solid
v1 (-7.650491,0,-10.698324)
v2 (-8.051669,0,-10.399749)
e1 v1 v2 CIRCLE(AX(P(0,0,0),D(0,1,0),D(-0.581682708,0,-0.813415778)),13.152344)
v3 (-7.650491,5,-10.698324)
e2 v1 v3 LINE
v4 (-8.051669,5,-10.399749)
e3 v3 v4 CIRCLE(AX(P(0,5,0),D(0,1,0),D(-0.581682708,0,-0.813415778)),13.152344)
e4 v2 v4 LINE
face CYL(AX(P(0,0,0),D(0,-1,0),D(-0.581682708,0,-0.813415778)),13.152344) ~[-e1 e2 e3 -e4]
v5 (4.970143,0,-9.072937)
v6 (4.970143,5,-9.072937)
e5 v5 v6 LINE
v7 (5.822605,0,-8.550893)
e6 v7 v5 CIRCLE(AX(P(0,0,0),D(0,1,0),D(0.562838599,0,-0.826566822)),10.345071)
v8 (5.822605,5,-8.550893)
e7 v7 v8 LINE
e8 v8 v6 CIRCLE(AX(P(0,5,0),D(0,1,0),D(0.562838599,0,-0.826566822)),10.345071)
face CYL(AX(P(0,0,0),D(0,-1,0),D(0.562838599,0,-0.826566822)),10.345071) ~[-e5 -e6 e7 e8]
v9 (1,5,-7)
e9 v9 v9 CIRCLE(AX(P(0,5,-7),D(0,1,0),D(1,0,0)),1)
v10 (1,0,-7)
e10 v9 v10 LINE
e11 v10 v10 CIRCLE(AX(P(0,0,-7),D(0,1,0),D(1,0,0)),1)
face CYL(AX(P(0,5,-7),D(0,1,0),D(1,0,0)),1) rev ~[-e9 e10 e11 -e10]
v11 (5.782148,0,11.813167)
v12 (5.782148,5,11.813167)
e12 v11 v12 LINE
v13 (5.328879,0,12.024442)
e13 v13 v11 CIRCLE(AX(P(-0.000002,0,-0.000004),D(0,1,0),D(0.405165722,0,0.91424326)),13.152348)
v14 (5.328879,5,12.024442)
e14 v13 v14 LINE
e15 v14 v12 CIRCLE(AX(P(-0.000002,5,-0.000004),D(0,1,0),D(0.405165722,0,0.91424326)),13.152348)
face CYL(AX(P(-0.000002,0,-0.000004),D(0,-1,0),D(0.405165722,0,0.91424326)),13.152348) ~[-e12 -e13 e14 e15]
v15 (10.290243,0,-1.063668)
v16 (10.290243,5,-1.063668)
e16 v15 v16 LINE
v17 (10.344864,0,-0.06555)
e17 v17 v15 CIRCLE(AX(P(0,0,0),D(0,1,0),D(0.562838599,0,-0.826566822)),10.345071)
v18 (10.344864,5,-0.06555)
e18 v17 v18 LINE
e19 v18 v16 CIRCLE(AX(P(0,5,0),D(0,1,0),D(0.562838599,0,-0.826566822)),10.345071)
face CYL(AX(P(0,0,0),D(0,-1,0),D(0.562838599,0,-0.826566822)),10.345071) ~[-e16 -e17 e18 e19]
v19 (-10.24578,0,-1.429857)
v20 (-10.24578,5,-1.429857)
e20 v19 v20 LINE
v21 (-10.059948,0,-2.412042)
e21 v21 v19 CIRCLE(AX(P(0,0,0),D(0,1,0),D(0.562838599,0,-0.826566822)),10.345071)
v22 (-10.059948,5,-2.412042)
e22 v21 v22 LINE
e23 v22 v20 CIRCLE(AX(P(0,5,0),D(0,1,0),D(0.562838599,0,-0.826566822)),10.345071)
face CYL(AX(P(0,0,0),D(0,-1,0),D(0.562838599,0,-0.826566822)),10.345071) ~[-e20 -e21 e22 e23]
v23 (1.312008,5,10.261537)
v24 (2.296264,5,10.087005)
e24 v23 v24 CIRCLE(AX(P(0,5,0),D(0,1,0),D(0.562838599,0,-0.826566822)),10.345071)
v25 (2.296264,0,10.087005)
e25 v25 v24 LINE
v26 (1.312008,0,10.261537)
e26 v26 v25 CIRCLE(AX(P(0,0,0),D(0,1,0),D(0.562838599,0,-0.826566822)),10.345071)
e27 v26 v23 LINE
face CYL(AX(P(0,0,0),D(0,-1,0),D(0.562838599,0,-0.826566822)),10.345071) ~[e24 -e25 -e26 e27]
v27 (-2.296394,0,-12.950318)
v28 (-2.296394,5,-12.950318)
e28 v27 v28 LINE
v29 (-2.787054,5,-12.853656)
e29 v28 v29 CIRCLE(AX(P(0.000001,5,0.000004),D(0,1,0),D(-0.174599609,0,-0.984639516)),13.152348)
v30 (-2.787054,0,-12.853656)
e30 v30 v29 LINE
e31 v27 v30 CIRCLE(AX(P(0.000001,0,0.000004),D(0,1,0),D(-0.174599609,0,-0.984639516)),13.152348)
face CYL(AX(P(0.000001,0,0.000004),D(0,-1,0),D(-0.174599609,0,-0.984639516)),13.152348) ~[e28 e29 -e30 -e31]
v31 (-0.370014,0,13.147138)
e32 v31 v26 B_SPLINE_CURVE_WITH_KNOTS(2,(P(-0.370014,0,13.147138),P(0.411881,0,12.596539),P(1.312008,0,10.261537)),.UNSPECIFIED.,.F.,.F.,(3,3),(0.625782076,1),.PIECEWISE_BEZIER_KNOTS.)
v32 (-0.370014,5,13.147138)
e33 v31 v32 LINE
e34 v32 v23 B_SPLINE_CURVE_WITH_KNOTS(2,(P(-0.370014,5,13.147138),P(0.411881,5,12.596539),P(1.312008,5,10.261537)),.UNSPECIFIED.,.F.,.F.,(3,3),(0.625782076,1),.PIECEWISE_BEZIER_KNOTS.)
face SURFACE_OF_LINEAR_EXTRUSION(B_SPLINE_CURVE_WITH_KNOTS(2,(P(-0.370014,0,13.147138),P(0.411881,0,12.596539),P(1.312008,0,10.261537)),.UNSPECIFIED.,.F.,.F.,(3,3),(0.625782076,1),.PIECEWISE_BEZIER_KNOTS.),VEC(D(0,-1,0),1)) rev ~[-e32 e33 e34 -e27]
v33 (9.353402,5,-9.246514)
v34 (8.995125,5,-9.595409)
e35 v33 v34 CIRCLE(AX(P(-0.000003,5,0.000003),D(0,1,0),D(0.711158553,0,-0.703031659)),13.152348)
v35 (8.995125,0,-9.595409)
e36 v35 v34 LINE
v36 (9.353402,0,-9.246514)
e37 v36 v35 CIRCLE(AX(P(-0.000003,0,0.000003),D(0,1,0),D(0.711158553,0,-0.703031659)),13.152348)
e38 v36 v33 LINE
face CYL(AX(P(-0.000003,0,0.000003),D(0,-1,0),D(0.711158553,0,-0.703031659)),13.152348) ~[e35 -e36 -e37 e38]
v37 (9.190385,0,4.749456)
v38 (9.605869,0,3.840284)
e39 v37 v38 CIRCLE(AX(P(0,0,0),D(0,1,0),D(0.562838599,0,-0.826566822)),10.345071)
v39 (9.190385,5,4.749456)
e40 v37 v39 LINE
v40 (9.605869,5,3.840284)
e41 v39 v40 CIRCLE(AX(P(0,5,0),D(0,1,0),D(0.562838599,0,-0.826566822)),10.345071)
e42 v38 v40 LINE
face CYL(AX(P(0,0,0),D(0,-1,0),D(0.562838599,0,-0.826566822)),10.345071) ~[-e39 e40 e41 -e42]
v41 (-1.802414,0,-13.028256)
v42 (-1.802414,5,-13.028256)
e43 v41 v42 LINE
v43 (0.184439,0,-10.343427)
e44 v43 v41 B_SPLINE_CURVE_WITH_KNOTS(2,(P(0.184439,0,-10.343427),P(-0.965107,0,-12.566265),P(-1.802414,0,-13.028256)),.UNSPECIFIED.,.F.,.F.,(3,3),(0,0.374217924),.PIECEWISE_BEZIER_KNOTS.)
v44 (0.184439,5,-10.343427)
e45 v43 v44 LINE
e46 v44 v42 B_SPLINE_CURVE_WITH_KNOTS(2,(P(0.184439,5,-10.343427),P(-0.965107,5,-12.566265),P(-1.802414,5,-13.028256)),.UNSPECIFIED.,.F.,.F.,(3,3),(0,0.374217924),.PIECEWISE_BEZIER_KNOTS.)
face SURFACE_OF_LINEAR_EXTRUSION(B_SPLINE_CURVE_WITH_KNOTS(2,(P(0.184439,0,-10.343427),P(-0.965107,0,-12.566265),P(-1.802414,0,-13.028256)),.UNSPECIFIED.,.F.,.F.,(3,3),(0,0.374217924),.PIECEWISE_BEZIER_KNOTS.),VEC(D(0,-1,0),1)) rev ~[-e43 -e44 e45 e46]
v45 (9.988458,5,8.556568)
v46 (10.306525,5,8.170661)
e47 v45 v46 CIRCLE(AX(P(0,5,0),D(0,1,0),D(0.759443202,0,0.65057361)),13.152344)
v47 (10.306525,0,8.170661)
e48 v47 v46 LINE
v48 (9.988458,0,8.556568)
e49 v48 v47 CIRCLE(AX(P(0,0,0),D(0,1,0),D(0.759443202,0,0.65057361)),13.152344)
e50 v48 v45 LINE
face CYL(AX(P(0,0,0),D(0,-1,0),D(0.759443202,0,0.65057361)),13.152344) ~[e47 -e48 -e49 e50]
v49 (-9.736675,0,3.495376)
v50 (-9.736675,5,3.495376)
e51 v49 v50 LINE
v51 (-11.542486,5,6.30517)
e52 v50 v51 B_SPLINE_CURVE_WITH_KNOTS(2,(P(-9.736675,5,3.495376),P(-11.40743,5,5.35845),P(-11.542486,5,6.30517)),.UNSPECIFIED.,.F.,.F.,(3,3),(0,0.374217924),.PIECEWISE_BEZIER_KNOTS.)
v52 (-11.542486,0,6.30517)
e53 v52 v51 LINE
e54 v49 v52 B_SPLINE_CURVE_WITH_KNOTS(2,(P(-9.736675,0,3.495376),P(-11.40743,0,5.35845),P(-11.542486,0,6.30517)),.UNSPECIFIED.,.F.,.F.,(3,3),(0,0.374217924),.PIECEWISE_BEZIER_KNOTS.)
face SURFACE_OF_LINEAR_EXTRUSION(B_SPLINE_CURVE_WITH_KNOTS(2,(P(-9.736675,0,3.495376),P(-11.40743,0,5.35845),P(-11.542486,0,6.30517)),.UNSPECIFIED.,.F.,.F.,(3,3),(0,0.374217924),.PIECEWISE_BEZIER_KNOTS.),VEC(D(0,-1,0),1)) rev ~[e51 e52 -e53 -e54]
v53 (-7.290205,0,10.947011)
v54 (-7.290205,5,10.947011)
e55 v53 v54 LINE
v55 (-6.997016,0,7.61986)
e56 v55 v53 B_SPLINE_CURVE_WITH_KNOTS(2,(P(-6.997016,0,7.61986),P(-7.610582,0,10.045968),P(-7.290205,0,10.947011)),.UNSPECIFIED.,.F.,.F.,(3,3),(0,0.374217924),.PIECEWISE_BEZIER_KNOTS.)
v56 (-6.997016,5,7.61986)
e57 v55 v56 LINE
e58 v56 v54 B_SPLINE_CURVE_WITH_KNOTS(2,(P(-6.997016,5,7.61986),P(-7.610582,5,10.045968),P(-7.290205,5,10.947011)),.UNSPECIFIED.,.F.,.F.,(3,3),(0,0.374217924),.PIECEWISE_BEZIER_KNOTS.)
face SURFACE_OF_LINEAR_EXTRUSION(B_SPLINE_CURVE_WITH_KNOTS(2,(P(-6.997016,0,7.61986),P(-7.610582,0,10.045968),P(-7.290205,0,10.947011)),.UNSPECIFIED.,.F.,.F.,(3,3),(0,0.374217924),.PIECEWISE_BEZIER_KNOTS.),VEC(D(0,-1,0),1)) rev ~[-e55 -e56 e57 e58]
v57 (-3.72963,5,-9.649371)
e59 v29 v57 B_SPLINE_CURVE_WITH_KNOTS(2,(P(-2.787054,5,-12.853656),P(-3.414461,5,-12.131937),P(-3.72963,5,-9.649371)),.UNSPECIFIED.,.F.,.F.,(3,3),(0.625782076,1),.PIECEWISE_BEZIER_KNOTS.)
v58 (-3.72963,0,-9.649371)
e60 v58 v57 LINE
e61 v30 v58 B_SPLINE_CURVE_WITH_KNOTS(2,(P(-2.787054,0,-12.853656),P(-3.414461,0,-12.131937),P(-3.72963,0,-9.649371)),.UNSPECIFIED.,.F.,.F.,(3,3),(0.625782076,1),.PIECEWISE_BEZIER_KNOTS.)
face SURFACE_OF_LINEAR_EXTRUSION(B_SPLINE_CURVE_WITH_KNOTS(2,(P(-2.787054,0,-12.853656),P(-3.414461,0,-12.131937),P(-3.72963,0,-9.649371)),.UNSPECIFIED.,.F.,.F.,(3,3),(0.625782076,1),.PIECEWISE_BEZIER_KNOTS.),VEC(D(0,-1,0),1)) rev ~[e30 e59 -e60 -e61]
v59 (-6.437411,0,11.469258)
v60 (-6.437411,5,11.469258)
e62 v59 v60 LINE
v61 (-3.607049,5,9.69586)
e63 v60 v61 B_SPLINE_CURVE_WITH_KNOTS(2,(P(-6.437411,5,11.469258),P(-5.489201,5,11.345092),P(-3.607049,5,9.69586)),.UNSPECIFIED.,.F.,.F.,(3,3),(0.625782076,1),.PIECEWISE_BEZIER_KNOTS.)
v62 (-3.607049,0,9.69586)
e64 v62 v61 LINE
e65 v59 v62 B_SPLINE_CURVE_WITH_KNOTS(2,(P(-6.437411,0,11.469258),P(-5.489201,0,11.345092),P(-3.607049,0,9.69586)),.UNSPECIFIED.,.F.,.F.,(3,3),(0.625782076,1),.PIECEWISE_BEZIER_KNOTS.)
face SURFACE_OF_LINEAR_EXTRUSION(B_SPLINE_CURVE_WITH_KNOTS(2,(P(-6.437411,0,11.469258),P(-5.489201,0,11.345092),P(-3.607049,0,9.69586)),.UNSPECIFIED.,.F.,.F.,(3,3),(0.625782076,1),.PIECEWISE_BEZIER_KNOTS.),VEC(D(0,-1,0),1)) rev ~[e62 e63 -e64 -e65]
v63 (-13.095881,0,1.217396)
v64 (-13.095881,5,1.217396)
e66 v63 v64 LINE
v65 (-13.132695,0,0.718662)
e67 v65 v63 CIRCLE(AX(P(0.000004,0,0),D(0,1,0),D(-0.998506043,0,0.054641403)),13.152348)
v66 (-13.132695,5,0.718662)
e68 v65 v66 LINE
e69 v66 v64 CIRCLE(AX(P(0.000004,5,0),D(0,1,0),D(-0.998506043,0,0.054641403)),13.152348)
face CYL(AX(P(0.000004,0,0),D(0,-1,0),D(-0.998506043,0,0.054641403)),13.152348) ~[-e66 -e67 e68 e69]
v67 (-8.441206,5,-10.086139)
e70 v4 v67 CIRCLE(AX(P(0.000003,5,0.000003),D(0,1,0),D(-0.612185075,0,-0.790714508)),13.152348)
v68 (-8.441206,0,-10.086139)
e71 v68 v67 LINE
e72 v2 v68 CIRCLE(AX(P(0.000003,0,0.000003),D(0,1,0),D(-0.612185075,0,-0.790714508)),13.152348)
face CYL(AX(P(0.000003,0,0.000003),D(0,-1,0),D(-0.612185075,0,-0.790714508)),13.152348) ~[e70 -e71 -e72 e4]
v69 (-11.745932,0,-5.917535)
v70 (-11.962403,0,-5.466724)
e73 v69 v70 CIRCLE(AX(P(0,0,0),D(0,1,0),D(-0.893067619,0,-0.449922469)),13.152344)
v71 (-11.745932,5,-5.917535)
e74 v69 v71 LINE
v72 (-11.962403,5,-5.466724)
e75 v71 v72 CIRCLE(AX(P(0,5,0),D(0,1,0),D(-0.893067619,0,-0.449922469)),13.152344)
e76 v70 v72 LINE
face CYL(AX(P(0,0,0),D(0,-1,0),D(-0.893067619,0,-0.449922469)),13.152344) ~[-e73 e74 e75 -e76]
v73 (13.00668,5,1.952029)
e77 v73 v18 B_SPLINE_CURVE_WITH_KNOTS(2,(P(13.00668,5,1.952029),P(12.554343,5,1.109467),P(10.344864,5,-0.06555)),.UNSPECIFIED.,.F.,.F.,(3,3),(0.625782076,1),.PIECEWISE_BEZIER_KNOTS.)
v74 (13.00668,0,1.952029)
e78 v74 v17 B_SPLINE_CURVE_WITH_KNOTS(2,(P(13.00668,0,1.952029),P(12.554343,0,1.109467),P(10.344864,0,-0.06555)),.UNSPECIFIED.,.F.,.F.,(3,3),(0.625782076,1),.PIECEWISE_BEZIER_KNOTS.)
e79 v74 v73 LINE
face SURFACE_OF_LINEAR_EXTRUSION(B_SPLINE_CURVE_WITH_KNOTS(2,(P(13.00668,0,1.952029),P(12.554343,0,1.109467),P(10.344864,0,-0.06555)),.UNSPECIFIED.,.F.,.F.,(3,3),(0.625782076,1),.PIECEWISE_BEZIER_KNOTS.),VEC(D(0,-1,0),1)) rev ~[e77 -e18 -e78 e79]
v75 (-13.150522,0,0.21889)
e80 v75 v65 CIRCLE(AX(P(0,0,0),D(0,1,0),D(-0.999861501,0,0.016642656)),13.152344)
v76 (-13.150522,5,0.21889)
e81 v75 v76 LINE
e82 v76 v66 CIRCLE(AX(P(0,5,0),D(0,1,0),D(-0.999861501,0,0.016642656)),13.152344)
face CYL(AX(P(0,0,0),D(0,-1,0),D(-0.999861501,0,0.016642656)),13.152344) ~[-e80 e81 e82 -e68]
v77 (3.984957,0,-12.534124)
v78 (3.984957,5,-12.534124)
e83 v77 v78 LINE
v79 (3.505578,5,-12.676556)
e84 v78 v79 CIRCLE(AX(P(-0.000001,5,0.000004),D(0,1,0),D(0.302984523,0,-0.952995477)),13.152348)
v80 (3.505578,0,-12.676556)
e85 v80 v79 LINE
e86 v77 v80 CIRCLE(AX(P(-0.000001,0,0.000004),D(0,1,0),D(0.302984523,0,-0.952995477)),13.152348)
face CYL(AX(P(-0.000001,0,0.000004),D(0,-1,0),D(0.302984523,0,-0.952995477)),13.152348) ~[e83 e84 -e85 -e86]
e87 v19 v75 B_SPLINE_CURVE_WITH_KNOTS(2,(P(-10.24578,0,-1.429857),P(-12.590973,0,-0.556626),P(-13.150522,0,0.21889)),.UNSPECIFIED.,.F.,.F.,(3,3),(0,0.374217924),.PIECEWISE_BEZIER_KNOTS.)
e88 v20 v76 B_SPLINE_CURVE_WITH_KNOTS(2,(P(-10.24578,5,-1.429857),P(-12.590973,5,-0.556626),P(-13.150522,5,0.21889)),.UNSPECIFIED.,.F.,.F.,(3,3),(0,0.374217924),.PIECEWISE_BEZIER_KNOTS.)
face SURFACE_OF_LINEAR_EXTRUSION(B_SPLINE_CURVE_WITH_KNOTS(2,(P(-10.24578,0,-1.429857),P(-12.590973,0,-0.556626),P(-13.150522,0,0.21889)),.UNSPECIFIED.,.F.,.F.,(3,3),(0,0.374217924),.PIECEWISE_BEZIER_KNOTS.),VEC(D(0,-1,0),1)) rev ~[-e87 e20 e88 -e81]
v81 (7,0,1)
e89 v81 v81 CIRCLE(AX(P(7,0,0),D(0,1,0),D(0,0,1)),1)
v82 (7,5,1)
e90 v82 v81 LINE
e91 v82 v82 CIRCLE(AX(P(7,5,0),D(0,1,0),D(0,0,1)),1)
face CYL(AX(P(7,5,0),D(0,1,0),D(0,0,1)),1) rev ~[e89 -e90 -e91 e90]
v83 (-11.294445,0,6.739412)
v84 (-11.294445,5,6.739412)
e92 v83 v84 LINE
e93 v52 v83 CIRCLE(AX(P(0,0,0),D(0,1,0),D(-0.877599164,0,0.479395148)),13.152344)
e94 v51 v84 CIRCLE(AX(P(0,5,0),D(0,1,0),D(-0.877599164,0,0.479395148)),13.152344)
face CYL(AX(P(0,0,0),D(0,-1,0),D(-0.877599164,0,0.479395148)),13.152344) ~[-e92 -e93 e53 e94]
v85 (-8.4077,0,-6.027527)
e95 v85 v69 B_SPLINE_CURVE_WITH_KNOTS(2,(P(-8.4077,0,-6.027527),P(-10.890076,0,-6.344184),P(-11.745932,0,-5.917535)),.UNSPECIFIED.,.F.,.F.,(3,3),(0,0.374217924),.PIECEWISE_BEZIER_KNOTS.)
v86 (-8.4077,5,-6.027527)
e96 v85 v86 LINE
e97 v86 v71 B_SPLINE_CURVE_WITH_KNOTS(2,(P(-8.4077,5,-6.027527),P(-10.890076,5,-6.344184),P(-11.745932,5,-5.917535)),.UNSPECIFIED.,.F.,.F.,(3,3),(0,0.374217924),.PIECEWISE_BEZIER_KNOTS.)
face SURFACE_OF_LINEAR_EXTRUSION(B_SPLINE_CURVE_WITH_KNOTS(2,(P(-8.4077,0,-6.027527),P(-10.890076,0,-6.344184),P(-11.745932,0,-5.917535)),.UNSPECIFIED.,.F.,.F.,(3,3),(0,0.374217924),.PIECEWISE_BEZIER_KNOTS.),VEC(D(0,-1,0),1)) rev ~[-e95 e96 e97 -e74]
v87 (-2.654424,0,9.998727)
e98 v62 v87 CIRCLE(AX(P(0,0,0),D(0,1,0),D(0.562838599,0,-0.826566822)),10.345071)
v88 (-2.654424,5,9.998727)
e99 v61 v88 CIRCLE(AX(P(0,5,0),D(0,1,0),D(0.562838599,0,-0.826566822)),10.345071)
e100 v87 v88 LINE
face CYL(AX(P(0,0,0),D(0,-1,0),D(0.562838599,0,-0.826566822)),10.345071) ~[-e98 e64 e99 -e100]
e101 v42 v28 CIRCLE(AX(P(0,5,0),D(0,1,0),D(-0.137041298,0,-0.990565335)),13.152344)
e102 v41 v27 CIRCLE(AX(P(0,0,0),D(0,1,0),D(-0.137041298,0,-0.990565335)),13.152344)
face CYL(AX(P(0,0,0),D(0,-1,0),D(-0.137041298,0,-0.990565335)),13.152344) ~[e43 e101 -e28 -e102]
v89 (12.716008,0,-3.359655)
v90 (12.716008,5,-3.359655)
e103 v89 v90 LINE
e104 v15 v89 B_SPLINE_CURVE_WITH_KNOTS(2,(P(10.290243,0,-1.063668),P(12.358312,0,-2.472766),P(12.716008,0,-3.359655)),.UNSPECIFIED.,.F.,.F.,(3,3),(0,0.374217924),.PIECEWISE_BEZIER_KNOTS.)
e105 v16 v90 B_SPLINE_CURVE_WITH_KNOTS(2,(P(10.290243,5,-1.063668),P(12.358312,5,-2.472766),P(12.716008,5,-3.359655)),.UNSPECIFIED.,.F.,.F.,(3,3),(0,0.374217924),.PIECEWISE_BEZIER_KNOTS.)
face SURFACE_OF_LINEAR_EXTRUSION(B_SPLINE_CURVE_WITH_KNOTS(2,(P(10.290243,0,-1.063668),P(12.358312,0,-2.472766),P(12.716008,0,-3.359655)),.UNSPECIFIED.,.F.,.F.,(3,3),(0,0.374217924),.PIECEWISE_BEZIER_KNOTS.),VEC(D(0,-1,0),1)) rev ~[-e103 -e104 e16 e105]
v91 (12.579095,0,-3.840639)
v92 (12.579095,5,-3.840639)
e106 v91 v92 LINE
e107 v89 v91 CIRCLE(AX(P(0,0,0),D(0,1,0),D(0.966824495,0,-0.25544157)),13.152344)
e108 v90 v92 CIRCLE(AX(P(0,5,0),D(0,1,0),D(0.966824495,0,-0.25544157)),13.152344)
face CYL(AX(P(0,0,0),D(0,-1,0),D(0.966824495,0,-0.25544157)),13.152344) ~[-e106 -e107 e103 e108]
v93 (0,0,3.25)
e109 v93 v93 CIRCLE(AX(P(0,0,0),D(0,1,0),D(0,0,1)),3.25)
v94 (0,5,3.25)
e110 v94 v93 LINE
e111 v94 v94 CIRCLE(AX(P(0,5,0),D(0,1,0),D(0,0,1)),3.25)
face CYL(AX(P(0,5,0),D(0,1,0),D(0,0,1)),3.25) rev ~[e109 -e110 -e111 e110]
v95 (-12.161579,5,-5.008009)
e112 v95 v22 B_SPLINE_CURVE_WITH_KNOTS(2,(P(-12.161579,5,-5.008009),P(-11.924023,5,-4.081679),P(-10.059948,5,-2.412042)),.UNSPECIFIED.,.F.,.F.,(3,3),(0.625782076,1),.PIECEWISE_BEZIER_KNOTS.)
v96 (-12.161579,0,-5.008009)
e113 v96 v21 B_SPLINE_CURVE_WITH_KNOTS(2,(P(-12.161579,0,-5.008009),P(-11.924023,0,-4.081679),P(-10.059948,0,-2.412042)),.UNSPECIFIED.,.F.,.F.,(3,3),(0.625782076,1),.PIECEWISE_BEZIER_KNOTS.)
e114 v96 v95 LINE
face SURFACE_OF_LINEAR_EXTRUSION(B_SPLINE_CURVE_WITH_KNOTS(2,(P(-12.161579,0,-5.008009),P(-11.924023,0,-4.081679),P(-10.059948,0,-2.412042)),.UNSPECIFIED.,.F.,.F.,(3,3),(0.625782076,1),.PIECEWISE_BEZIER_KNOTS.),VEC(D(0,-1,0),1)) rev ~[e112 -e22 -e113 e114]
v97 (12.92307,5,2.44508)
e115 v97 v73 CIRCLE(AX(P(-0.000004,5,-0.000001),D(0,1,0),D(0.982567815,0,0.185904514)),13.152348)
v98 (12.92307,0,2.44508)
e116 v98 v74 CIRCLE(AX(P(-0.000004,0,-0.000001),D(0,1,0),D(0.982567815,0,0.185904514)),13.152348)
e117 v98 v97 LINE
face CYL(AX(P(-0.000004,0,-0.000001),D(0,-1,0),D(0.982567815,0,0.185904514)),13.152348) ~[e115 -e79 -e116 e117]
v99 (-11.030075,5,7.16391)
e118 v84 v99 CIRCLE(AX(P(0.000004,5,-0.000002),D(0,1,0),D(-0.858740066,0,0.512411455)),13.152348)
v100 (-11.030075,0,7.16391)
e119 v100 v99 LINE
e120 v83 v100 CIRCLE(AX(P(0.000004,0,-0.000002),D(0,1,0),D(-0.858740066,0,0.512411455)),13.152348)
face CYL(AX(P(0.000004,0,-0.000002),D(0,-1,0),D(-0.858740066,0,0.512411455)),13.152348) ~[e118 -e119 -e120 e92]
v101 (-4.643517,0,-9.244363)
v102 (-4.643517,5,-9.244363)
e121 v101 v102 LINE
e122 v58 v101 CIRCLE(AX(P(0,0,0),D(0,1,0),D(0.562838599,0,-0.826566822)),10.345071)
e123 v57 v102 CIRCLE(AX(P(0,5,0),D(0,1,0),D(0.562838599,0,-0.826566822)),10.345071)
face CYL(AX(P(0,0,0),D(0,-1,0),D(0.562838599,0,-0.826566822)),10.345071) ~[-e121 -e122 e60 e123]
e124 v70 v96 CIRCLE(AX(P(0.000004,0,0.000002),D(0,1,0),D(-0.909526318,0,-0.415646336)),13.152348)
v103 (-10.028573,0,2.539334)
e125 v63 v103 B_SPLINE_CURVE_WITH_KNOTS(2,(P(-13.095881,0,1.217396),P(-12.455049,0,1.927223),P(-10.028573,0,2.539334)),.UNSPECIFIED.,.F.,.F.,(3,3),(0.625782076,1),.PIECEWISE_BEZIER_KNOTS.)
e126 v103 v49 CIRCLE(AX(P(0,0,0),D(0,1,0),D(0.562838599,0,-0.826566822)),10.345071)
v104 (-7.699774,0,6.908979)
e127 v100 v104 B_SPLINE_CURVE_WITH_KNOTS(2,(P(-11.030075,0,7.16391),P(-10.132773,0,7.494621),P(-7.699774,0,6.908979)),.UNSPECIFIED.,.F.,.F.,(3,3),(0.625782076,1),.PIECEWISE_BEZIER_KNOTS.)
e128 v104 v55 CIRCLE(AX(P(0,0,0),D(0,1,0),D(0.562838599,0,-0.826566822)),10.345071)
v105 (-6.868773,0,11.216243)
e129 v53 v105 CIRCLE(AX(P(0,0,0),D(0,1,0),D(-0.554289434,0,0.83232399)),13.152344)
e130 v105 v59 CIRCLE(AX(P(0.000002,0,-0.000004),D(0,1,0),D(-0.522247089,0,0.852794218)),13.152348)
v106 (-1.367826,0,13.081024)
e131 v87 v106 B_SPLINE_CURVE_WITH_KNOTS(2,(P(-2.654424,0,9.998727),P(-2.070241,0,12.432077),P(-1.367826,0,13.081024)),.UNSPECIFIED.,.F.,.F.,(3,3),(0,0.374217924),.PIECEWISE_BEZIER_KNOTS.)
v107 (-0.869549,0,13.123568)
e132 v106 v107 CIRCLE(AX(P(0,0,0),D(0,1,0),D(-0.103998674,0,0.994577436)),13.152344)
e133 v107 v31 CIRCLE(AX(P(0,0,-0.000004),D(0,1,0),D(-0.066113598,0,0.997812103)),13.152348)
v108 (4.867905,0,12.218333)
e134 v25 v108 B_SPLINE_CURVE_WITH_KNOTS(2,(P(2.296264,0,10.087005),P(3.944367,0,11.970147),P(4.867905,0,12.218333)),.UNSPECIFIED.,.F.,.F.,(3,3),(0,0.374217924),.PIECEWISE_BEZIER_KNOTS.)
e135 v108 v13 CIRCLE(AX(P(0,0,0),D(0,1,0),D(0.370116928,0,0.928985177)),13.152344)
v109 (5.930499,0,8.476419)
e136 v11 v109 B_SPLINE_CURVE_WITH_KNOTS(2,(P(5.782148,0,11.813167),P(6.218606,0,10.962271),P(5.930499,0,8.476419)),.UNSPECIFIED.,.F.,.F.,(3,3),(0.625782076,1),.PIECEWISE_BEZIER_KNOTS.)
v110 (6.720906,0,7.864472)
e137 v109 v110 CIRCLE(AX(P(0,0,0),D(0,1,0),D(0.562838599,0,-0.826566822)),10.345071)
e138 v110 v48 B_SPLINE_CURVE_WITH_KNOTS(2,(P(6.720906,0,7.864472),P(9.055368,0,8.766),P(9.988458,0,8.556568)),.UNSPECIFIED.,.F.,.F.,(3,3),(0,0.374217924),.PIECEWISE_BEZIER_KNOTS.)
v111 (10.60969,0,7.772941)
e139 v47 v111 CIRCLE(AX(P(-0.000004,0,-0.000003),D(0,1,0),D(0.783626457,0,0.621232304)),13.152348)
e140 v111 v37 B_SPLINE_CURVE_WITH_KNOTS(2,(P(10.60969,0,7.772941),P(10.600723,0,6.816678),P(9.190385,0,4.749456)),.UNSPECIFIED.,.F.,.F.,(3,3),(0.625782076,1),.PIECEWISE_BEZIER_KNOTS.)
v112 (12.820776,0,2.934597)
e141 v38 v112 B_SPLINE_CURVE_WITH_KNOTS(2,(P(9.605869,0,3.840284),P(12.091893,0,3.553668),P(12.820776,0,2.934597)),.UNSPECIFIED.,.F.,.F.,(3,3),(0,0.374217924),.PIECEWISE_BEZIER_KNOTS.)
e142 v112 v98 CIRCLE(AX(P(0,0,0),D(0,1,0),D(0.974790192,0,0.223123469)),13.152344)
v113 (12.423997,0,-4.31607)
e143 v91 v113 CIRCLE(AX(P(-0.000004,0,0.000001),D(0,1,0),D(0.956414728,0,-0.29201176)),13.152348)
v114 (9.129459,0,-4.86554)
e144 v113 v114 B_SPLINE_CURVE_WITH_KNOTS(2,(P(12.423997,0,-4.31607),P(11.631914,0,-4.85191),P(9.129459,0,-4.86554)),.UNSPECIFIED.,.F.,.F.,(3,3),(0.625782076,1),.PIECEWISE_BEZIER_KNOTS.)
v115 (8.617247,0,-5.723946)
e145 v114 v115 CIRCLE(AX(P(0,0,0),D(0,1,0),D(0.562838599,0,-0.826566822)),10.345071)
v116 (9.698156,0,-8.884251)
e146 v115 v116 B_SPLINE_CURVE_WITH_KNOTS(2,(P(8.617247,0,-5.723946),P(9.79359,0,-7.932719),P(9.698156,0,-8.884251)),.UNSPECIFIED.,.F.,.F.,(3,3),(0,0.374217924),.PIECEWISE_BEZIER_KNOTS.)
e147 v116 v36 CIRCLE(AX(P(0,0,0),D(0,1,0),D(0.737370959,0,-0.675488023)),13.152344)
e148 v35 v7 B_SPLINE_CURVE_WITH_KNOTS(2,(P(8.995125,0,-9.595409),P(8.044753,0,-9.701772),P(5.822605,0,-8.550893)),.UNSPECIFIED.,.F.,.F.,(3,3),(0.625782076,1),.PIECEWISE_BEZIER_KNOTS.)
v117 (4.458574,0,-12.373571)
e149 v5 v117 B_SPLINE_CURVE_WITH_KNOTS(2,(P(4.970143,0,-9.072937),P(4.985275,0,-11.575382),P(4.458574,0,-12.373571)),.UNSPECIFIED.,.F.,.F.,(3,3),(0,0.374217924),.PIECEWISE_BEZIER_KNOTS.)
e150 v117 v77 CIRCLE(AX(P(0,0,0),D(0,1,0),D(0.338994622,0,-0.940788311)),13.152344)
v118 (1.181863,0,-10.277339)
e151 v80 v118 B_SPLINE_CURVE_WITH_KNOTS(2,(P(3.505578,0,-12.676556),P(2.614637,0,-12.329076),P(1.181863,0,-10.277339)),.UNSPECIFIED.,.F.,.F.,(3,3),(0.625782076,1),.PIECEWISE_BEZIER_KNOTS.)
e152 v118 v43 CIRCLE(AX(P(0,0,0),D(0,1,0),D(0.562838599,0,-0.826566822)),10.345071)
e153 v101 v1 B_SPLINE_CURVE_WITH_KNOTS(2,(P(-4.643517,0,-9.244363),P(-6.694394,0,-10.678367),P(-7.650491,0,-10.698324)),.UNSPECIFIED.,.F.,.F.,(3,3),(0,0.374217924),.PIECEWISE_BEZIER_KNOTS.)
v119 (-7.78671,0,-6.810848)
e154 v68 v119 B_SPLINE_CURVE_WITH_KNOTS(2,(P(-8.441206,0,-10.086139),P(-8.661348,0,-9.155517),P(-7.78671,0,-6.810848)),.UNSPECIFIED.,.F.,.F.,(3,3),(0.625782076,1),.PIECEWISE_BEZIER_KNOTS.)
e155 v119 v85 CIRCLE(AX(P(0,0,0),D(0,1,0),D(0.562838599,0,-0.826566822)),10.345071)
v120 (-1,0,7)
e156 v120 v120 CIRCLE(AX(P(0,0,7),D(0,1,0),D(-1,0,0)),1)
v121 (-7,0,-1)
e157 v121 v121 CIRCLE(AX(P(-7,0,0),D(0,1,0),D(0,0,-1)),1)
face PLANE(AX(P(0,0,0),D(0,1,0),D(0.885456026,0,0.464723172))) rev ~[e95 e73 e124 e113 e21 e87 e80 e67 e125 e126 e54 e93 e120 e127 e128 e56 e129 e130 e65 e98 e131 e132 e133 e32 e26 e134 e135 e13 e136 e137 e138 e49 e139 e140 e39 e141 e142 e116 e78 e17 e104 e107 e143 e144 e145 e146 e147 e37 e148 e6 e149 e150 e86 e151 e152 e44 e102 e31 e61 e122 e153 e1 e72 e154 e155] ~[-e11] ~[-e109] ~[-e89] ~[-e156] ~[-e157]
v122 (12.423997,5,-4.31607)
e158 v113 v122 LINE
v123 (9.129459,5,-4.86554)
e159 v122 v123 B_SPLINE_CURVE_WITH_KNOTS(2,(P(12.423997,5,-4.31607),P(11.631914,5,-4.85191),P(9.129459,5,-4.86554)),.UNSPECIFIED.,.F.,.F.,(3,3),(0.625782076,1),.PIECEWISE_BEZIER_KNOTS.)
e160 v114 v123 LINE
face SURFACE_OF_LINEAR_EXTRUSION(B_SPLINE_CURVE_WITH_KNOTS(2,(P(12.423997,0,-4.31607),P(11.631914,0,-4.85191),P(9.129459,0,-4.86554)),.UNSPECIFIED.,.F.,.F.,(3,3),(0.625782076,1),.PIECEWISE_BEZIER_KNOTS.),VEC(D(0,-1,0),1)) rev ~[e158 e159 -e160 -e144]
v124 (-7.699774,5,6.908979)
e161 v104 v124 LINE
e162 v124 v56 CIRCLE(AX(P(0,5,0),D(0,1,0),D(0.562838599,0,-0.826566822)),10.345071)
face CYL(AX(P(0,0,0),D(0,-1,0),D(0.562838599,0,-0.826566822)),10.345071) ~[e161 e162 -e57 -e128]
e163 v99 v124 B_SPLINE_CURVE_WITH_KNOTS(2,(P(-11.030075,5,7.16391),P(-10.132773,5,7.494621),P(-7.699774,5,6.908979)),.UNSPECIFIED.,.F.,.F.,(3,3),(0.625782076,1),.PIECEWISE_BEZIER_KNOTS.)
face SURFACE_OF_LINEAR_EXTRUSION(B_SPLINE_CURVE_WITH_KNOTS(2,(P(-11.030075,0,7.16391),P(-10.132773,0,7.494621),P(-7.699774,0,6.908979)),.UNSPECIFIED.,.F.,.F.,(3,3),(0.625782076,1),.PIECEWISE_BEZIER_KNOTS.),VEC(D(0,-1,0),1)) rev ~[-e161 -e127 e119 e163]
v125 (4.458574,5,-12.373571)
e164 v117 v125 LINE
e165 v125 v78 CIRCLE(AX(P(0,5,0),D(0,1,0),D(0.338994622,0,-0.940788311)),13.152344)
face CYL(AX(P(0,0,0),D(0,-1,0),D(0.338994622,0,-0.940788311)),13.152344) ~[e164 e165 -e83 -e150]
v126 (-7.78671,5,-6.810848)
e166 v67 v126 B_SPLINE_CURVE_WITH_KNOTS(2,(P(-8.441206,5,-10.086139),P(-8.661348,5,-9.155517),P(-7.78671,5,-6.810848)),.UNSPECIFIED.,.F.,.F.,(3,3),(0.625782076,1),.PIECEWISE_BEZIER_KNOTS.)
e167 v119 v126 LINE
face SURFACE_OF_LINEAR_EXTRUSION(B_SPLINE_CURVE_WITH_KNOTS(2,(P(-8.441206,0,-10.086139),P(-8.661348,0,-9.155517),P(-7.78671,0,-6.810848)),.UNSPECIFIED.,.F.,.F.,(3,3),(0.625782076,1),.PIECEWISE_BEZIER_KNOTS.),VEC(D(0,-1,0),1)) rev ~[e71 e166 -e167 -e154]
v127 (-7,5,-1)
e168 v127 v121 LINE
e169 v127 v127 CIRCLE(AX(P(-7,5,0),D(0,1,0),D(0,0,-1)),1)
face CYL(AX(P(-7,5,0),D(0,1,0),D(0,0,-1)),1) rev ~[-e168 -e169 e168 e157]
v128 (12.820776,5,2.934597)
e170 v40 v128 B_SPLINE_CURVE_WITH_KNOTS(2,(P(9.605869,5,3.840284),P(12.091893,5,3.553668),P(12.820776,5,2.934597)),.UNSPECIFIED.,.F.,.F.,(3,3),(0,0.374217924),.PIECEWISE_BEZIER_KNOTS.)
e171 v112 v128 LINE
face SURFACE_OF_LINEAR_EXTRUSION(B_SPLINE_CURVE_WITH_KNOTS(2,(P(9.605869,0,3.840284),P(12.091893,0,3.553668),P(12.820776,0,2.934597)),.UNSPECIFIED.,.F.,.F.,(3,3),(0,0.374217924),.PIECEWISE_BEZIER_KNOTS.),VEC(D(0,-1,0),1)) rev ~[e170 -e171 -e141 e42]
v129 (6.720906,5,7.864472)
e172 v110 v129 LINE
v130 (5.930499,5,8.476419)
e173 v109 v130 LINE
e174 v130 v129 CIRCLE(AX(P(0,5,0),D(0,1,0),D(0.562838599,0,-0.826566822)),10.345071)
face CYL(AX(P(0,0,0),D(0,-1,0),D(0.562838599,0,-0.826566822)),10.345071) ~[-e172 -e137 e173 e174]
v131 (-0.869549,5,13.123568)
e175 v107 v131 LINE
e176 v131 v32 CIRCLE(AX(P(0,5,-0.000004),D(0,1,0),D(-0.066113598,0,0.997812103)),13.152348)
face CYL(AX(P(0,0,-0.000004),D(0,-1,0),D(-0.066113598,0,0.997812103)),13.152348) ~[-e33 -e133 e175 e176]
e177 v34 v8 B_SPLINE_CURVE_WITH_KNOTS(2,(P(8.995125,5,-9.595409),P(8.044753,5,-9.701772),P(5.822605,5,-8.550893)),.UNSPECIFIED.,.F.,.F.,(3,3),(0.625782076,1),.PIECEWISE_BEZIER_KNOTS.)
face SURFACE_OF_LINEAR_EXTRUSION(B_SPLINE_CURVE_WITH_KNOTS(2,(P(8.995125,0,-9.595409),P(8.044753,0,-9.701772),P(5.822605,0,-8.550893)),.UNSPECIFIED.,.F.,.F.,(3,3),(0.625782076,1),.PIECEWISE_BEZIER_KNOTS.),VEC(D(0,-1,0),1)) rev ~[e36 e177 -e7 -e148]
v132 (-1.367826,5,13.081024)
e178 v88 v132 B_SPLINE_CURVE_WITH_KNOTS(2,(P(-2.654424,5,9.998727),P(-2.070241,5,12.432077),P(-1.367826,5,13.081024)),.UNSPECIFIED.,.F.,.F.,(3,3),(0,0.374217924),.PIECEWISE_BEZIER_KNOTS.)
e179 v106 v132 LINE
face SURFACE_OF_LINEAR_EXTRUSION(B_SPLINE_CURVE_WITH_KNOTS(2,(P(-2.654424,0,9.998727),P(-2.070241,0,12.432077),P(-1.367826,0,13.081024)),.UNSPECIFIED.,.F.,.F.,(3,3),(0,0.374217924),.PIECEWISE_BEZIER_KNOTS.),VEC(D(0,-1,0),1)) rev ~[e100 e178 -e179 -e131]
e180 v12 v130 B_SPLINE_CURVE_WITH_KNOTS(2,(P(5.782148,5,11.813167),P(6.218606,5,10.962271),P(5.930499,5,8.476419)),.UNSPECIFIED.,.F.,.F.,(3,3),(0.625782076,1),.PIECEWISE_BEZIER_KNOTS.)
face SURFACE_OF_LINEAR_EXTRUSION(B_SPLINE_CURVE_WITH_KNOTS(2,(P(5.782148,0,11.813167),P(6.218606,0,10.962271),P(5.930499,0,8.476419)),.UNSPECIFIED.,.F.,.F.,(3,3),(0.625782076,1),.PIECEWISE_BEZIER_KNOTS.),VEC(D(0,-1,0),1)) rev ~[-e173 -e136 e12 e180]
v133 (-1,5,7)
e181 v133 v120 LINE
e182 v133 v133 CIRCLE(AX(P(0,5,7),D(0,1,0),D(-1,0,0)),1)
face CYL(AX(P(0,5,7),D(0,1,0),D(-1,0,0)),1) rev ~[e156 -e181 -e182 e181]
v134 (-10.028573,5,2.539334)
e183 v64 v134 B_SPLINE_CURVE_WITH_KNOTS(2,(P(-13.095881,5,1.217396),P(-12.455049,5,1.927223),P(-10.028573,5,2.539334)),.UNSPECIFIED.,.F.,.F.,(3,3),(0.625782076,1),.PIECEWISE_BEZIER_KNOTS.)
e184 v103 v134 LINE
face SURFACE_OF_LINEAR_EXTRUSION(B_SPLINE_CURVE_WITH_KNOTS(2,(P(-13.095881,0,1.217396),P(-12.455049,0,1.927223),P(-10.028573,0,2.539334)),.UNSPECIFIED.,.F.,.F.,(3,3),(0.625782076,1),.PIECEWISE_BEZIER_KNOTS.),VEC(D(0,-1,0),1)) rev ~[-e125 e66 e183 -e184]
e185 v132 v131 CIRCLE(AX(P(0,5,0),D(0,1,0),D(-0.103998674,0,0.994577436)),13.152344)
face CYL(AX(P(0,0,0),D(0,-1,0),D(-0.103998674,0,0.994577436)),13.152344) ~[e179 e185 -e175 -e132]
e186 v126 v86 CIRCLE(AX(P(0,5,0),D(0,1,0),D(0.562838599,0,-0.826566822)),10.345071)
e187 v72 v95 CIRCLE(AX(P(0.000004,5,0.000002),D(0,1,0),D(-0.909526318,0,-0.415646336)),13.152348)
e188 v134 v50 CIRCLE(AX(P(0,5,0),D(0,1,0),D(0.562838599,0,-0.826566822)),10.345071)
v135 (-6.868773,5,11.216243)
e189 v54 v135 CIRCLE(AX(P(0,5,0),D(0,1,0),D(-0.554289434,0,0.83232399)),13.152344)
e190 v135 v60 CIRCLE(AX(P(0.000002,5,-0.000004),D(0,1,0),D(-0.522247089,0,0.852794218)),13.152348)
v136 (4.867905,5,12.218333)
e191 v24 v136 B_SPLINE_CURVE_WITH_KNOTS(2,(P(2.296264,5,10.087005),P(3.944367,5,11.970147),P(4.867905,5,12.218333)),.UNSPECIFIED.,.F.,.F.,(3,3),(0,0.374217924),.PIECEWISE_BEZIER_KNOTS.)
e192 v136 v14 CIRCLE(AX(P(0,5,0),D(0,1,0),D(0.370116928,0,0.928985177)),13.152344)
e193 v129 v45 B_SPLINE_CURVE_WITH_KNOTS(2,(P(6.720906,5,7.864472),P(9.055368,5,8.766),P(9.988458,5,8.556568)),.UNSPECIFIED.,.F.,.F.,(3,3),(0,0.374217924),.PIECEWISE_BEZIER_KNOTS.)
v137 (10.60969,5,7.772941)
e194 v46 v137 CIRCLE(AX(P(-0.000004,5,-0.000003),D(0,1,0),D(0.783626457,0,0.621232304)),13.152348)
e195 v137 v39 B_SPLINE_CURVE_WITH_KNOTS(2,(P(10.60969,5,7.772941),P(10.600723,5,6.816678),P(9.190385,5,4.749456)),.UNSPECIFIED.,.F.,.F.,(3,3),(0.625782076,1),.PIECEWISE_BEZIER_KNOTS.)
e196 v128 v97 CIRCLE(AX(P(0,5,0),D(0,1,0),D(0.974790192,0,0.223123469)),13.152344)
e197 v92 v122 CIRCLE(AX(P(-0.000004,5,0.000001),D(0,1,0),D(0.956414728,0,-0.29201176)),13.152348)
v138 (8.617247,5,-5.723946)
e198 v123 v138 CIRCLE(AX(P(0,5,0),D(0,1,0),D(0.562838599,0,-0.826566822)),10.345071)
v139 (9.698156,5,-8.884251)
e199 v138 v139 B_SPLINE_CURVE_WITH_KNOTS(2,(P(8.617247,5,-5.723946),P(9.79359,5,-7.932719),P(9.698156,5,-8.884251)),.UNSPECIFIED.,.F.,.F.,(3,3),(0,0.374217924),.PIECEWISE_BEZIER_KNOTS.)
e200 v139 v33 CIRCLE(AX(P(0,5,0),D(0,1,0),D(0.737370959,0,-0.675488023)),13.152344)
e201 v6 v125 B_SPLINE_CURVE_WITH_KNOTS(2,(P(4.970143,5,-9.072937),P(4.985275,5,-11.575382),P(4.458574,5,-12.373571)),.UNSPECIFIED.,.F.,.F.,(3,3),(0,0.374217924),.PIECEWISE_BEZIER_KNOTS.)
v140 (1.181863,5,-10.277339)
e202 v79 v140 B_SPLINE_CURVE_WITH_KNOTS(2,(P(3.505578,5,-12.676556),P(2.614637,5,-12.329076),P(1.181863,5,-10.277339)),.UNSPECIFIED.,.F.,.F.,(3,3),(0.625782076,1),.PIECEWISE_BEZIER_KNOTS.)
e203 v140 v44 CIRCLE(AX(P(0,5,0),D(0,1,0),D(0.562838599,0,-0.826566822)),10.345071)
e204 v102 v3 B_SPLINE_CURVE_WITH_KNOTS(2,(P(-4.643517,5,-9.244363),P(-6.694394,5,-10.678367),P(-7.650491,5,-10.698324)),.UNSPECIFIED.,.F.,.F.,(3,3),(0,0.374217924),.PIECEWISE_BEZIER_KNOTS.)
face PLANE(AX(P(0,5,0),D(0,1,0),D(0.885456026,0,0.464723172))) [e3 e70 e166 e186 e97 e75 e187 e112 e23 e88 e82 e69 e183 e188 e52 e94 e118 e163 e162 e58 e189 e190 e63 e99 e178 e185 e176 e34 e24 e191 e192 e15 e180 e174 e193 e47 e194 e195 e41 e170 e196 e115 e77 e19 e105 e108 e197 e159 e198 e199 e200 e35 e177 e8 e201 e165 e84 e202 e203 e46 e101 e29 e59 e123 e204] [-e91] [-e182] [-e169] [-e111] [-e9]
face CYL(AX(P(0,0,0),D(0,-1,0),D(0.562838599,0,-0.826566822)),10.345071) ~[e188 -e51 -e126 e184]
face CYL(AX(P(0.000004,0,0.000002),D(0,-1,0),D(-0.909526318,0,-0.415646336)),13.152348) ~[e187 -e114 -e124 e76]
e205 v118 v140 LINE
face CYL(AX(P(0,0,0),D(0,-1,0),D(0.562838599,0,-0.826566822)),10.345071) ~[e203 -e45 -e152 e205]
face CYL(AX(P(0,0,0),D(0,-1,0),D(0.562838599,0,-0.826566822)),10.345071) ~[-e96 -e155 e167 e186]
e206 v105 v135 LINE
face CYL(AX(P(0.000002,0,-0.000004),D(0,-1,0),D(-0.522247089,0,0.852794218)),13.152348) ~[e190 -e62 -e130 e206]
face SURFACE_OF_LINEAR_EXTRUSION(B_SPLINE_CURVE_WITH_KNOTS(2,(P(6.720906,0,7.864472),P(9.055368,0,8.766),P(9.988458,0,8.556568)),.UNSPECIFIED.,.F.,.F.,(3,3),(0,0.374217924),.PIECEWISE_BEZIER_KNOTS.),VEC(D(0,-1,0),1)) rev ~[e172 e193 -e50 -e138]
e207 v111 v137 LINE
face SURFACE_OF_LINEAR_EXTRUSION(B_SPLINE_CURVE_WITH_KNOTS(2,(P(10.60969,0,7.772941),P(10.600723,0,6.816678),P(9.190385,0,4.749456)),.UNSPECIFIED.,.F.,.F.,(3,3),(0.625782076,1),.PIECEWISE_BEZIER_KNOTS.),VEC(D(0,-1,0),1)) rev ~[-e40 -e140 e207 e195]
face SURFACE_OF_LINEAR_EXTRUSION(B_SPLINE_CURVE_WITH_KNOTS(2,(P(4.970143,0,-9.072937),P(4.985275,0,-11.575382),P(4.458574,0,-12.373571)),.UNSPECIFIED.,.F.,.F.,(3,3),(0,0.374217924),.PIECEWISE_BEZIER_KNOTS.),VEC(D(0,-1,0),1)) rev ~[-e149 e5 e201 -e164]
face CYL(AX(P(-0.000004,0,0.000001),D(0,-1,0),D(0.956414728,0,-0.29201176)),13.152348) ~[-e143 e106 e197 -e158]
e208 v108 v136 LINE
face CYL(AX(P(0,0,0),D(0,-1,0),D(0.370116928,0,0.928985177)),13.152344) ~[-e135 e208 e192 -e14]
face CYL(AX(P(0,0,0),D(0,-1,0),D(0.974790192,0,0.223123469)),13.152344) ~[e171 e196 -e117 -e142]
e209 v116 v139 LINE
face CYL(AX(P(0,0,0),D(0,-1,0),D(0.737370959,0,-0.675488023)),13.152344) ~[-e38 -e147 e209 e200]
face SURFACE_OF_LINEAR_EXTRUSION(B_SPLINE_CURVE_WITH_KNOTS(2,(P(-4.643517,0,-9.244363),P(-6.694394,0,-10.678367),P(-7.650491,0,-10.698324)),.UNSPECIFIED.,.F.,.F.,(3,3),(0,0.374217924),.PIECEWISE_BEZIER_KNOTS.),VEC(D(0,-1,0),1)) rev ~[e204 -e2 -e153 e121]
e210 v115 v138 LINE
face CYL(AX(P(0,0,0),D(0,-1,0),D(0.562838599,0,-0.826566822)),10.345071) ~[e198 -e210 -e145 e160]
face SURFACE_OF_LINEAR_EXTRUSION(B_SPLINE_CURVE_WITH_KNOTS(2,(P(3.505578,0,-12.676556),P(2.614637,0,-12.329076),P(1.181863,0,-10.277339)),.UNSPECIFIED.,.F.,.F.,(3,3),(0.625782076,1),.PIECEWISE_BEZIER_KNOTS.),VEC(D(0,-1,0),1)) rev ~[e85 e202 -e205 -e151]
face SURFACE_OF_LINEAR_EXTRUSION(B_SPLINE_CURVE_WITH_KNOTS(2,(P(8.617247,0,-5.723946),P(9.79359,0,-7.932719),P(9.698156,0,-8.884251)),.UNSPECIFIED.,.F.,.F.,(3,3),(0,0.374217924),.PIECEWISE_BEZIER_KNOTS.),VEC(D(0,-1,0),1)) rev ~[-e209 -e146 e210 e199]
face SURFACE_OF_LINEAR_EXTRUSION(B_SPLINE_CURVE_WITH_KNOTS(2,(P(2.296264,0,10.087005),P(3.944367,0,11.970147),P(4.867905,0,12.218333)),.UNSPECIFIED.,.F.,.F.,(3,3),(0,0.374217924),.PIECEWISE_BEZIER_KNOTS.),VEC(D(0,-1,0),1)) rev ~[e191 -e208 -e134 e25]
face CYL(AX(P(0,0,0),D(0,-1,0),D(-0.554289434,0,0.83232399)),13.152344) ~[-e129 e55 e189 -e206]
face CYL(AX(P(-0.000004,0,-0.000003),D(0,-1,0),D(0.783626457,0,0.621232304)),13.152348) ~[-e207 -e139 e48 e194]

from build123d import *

# Parameters (mm, degrees)
SKETCH1_R           = 10.345071301
BOSS_EXTRUDE4_DEPTH = 5
CIRPATTERN6_COUNT   = 13
SKETCH2_R           = 3.25
CUT_EXTRUDE1_DEPTH  = 10
SKETCH5_R           = 1
CUT_EXTRUDE2_DEPTH  = 10
CIRPATTERN7_COUNT   = 4


with BuildPart() as part:
    # Sketch1 → Boss-Extrude4 (new body)
    with BuildSketch(Plane(origin=(0, 0, 0), x_dir=(1, 0, 0), z_dir=(0, 1, 0))):
        Circle(SKETCH1_R)
        with BuildLine():
            ThreePointArc((9.698156453, 8.884250796), (9.527501134, 9.067021172), (9.353401927, 9.24651411))
            ThreePointArc((9.353401927, 9.24651411), (9.175921764, 9.422664727), (8.995124799, 9.595409353))
            add(Edge.make_bspline(
                [(8.995124799, 9.595409353), (8.044753126, 9.701772308), (5.822605435, 8.550892712)],
                knots=[0.625782076, 0.625782076, 0.625782076, 1, 1, 1], degree=2))
            ThreePointArc((5.822605435, 8.550892712), (7.356985977, 7.272912591), (8.617247078, 5.723945581))
            add(Edge.make_bspline(
                [(8.617247078, 5.723945581), (9.793589775, 7.932719464), (9.698156453, 8.884250796)],
                knots=[0, 0, 0, 0.374217924, 0.374217924, 0.374217924], degree=2))
        make_face()
    boss_extrude4 = extrude(amount=BOSS_EXTRUDE4_DEPTH)

    # CirPattern6: Boss-Extrude4 ×13 about axis
    cirpattern6_axis = Axis((0, 5, 0), (0, 1, 0))
    for i in range(1, CIRPATTERN6_COUNT):
        add(boss_extrude4.rotate(cirpattern6_axis, i * 360 / CIRPATTERN6_COUNT))

    # Sketch2 → Cut-Extrude1 (cut)
    with BuildSketch(Plane(origin=(0, 5, 0), x_dir=(1, 0, 0), z_dir=(0, 1, 0))):
        with Locations(Location((0, 0, 0), (0, 0, 270))):
            Circle(SKETCH2_R)
    extrude(amount=-CUT_EXTRUDE1_DEPTH, mode=Mode.SUBTRACT)

    # Sketch5 → Cut-Extrude2 (cut)
    with BuildSketch(Plane(origin=(0, 5, 0), x_dir=(1, 0, 0), z_dir=(0, 1, 0))):
        with Locations(Location((7, 0, 0), (0, 0, 270))):
            Circle(SKETCH5_R)
    cut_extrude2 = extrude(amount=-CUT_EXTRUDE2_DEPTH, mode=Mode.SUBTRACT)

    # CirPattern7: Cut-Extrude2 ×4 about axis
    cirpattern7_axis = Axis((0, 0, 0), (0, 1, 0))
    for i in range(1, CIRPATTERN7_COUNT):
        add(cut_extrude2.rotate(cirpattern7_axis, i * 360 / CIRPATTERN7_COUNT), mode=Mode.SUBTRACT)


solid = part.part
